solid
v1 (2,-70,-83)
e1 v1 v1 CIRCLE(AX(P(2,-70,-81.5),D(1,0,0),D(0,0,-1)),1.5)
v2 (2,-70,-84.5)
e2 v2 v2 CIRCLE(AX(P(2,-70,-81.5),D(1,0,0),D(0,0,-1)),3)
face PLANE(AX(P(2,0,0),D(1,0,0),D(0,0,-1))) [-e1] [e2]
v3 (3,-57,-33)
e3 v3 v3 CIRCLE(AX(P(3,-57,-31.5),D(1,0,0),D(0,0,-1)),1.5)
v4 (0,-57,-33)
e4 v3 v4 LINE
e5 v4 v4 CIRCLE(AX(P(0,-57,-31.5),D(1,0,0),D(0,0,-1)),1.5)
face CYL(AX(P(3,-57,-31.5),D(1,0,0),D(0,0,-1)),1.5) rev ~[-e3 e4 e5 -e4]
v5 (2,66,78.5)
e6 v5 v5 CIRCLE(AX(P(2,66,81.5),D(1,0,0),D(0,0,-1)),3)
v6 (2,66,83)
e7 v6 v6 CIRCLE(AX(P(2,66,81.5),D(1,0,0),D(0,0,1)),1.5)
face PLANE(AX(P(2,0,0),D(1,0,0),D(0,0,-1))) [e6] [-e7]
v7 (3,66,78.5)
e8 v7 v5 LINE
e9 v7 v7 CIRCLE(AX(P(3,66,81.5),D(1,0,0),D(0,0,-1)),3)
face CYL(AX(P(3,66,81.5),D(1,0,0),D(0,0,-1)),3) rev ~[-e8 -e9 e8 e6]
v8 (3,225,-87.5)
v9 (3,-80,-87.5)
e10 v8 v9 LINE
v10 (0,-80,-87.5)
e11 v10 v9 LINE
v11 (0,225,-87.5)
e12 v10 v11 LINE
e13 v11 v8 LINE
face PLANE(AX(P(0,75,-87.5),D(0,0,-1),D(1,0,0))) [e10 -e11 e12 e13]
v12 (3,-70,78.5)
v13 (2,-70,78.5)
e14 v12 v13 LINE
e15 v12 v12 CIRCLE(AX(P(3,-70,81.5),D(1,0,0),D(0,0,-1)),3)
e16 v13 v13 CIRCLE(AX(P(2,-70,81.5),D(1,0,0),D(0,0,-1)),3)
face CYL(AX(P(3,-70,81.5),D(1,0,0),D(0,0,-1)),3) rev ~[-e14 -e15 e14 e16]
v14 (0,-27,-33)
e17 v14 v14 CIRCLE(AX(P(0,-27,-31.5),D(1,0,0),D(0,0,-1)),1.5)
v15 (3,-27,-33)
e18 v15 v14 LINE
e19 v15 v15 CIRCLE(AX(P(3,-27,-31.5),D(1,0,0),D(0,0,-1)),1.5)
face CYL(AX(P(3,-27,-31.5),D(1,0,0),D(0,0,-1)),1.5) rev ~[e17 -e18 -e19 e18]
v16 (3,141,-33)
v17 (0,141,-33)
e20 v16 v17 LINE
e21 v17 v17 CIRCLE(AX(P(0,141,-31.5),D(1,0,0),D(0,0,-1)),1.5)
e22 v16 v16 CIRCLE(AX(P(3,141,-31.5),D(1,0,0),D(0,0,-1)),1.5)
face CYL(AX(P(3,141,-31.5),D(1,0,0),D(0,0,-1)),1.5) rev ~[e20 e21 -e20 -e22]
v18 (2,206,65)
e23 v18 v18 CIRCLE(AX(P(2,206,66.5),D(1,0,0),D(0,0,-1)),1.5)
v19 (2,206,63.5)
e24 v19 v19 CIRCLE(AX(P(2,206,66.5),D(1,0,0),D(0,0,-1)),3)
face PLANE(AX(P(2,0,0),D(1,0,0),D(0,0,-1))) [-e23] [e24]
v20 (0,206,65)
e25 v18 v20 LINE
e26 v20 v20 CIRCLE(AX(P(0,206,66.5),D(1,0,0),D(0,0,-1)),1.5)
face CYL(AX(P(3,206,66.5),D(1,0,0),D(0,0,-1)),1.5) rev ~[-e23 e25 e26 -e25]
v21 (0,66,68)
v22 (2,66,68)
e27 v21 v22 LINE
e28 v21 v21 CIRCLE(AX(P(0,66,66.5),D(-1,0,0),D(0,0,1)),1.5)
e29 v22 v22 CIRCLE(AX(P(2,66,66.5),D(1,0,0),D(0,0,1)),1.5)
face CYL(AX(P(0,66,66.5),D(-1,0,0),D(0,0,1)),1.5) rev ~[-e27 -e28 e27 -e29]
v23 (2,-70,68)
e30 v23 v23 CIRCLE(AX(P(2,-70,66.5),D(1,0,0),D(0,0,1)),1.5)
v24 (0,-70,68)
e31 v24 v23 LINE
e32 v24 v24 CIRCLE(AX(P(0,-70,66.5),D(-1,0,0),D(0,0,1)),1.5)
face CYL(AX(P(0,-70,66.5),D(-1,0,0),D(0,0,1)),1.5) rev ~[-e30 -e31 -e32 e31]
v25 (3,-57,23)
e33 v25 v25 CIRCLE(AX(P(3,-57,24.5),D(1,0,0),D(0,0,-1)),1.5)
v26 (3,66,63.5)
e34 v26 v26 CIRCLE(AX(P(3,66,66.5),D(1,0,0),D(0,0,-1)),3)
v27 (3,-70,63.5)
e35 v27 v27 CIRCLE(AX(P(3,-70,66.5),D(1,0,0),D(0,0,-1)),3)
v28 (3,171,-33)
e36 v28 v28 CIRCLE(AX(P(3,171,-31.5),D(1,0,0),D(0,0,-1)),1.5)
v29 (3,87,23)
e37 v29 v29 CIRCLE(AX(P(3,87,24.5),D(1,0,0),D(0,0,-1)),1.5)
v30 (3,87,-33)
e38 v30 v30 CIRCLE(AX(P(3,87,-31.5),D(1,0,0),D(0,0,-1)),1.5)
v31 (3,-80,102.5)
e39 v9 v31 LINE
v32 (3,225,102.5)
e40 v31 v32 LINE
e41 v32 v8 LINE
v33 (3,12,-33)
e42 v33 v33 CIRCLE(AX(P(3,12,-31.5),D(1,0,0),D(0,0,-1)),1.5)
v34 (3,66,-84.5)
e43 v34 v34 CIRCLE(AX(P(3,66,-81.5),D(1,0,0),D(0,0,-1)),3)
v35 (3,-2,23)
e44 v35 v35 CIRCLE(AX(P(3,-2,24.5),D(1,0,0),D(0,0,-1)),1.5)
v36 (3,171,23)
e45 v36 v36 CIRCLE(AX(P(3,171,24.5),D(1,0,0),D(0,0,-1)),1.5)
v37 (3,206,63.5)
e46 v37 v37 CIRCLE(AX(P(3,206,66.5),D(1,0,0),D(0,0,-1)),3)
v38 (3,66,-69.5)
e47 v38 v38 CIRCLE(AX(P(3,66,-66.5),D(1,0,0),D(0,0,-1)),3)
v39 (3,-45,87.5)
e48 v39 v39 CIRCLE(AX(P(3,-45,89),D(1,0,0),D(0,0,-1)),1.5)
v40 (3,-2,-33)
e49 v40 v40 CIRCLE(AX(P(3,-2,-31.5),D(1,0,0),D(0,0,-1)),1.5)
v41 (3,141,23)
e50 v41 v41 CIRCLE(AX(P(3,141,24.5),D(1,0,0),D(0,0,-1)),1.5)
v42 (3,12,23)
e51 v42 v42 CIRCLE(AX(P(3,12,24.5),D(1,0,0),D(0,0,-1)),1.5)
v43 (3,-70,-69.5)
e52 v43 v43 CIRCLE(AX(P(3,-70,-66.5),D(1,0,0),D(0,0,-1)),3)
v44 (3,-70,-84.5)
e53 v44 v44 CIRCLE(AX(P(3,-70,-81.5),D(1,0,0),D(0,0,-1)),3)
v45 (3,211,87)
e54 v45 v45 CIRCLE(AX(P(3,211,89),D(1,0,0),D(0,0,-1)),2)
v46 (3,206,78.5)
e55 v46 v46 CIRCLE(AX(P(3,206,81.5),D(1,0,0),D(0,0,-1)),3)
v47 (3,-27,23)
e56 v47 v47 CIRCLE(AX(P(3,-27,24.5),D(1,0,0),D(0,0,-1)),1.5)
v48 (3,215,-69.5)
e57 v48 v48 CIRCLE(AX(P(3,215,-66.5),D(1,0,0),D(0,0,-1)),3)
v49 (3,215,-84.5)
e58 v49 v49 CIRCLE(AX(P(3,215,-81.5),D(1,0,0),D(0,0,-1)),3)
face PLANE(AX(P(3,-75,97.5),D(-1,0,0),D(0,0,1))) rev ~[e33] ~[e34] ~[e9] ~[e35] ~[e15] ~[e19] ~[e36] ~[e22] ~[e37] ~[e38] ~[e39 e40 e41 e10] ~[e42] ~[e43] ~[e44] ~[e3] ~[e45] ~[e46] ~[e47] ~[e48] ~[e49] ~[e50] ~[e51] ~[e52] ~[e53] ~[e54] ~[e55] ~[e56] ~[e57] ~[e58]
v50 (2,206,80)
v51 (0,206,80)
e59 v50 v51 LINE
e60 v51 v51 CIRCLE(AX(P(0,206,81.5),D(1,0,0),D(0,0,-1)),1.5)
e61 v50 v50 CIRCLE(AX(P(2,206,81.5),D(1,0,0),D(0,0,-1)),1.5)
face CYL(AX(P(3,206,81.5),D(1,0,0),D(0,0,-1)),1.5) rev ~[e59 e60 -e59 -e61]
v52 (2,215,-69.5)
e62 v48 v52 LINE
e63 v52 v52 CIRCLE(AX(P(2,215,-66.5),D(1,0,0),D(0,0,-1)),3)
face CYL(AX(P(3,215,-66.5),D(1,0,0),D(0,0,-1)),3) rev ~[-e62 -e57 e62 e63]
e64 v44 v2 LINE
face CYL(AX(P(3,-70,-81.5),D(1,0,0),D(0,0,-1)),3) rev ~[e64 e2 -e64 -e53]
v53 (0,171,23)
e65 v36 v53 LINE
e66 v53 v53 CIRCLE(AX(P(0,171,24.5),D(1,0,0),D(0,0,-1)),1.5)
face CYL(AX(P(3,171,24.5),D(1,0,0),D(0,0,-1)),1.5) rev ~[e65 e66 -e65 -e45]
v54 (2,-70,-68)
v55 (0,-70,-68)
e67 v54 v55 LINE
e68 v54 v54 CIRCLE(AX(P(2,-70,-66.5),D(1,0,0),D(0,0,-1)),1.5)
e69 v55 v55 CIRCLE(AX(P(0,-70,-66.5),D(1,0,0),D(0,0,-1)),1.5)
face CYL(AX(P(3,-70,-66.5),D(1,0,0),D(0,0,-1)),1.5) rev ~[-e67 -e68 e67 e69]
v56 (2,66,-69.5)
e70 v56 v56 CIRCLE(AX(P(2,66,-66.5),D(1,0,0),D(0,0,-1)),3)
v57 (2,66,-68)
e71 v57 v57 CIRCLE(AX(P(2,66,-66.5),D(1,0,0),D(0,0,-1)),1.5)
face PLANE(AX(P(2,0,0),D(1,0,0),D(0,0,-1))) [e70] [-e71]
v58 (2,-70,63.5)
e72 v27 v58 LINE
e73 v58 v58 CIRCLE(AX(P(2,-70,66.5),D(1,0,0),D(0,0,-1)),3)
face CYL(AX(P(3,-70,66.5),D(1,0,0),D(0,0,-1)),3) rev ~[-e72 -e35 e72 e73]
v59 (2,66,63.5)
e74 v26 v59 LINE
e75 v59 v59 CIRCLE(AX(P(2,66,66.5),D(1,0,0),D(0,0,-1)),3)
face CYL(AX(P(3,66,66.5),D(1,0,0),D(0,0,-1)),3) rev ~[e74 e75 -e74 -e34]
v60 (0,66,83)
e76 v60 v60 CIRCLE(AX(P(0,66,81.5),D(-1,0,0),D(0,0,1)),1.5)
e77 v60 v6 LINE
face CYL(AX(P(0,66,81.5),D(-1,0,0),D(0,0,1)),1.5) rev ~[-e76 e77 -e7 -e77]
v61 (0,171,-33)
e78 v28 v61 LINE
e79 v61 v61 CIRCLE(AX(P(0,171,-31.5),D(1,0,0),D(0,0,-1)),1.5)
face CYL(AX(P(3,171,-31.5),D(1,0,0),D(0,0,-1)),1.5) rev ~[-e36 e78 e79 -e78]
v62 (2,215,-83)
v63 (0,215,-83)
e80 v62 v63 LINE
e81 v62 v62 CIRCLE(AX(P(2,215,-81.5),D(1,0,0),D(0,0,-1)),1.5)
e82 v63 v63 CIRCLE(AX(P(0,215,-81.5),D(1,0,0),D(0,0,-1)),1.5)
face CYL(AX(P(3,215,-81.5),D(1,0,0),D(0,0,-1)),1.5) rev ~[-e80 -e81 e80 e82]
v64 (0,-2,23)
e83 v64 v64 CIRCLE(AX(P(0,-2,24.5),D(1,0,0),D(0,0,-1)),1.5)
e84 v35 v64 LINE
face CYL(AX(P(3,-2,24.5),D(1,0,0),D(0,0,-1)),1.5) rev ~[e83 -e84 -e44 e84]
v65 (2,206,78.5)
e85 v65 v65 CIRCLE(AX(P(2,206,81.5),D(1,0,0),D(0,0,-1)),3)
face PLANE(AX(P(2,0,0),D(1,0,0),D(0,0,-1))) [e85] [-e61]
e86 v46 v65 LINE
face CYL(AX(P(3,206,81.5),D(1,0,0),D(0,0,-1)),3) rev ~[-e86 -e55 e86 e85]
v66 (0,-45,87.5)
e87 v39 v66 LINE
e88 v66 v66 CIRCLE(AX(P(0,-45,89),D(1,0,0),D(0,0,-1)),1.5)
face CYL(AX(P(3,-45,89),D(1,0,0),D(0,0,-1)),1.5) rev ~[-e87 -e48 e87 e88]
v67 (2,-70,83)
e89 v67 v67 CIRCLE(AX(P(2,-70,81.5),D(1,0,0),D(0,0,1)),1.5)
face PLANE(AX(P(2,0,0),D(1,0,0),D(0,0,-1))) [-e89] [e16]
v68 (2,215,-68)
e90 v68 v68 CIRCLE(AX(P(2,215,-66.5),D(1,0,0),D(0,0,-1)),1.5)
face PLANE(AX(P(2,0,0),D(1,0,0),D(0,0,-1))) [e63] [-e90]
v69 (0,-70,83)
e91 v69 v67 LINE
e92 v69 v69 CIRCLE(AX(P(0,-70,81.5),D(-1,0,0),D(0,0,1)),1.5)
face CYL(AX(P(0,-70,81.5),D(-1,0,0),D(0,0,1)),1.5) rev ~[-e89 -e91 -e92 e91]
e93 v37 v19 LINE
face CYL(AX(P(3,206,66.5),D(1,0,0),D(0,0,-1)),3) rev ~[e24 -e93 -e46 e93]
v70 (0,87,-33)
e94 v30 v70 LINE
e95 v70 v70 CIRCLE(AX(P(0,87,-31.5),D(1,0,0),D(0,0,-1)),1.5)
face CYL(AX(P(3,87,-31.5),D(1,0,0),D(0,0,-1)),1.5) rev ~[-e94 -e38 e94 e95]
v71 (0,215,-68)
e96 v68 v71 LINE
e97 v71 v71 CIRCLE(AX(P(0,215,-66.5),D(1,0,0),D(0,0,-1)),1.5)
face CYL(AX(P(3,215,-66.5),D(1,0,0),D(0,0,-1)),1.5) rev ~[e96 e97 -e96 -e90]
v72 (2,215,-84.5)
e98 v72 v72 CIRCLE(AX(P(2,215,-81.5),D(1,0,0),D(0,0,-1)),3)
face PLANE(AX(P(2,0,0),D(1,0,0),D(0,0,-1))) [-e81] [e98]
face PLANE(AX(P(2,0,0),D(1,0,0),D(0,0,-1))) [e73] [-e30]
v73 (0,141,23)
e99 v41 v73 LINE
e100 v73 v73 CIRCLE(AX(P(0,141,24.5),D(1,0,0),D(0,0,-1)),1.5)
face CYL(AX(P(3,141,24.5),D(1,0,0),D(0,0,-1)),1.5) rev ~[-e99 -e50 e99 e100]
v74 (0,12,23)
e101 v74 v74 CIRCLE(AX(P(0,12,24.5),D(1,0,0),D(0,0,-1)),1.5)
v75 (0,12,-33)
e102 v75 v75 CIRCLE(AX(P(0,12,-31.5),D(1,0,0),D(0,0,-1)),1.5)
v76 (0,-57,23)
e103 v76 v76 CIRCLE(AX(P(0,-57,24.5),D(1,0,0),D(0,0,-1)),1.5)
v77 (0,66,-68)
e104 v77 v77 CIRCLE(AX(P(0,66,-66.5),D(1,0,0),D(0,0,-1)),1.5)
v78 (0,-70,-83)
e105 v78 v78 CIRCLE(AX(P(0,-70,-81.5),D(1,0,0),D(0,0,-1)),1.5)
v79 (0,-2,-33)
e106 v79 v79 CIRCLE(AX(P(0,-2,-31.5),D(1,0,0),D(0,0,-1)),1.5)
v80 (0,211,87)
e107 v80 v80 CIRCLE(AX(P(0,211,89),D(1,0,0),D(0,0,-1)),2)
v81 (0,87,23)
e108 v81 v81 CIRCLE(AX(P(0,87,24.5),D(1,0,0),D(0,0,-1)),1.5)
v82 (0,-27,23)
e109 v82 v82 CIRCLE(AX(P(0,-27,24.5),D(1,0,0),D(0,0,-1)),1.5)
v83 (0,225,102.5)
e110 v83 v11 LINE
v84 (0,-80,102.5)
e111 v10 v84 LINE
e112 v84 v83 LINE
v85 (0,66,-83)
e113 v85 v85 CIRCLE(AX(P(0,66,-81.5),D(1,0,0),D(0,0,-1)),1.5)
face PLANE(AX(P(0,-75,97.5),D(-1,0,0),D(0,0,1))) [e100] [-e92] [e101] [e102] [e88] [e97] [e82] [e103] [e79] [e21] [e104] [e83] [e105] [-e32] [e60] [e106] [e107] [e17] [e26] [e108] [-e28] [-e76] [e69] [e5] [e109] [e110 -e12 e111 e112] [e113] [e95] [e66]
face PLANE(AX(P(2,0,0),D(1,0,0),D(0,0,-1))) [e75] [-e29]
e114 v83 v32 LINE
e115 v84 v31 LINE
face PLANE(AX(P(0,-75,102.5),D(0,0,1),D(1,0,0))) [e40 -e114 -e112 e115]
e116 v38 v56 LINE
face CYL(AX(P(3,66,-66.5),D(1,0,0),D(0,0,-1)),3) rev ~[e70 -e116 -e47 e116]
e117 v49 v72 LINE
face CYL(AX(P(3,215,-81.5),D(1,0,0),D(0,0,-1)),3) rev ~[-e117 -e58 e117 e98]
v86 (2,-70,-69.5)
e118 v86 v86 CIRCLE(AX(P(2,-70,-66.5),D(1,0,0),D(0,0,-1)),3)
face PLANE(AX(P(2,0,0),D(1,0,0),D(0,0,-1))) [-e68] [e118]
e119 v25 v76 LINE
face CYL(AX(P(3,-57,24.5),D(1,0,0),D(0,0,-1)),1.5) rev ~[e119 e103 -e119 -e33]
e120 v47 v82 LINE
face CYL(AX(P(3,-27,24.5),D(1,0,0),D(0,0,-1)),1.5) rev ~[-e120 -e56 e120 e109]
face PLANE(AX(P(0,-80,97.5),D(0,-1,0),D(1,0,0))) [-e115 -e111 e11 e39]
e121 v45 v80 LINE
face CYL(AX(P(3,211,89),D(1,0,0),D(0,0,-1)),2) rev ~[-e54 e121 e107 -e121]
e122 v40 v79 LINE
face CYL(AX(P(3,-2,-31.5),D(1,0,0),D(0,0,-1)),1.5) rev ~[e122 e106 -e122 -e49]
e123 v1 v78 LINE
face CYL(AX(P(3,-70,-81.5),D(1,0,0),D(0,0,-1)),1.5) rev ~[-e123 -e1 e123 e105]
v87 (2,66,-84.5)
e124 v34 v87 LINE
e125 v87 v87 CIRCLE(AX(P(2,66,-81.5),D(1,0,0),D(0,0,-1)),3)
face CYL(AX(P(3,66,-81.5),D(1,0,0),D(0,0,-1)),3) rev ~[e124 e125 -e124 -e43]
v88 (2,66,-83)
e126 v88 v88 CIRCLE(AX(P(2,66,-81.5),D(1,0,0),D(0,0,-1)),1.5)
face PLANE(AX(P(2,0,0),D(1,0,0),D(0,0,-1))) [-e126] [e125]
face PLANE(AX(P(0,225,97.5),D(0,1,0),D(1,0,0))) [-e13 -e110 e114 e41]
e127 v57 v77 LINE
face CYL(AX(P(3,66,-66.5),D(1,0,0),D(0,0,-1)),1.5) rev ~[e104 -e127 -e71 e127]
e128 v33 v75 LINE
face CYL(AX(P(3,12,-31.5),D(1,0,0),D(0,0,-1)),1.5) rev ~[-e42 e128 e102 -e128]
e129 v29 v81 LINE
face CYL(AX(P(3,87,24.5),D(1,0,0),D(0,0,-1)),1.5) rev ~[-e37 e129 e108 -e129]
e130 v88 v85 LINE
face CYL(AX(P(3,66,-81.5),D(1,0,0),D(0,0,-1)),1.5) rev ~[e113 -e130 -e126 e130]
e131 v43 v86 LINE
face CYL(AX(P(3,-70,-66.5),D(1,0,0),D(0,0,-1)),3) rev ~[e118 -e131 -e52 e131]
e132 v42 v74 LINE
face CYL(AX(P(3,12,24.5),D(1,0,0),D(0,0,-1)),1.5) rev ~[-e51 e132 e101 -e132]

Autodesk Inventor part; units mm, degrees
ref_plane "YZ Plane" through (0, 0, 0) normal (1, 0, 0) x (0, 1, 0)
ref_plane "XZ Plane" through (0, 0, 0) normal (0, 1, 0) x (-1, 0, 0)
ref_plane "XY Plane" through (0, 0, 0) normal (0, 0, 1) x (1, 0, 0)
sketch "スケッチ1" plane through (0, 0, 0) normal (1, 0, 0) x (0, 1, 0)
  line L0 (75, 87.5) -> (-75, 87.5)
  line L1 (-75, 87.5) -> (-75, -87.5)
  line L2 (-75, -87.5) -> (75, -87.5)
  line L3 (75, -87.5) -> (75, 87.5)
  line L4 (75, 87.5) -> (-75, -87.5) construction
  line L5 (-75, 87.5) -> (75, -87.5) construction
  point P0 (0, 0)
  dimension "d0" = 150
  dimension "d1" = 175
extrude "押し出し1" add sketch "スケッチ1" along normal blind 3
sketch "スケッチ2" plane through (3, 0, 0) normal (1, 0, 0) x (0, 0, -1)
  circle A0 centre (81.5, 66) radius 1.5
  circle A1 centre (66.5, 66) radius 1.5
  line L0 (87.5, -75) -> (87.5, 75) projected
  line L1 (87.5, 75) -> (-87.5, 75) projected
  line L2 (-87.5, 75) -> (-87.5, -75) projected
  line L3 (-87.5, 0) -> (87.5, 0)
  circle A2 centre (66.5, -70) radius 1.5
  circle A3 centre (81.5, -70) radius 1.5
  line L4 (-87.5, -75) -> (87.5, -75) projected
  point P0 (0, 0)
  dimension "d4" = 3
  dimension "d5" = 6
  dimension "d7" = 15
  dimension "d9" = 3
  dimension "d20" = 3
  dimension "d21" = 3
  dimension "d22" = 6
  dimension "d23" = 15
  dimension "d24" = 5
  dimension "d25" = 5
  dimension "d66" = 141
  dimension "d67" = 141
extrude "押し出し2" cut sketch "スケッチ2" against normal through all contours A0 | A1 | A2 | A3
sketch "スケッチ3" plane through (0, 0, 0) normal (-1, 0, 0) x (0, 0, 1)
  circle A0 centre (81.5, 66) radius 1.5
  circle A1 centre (66.5, 66) radius 1.5
  line L0 (87.5, 75) -> (87.5, -75) projected
  line L1 (-87.5, 75) -> (87.5, 75) projected
  line L2 (-87.5, -75) -> (-87.5, 75) projected
  line L3 (-87.5, 0) -> (87.5, 0)
  circle A2 centre (81.5, -70) radius 1.5
  circle A3 centre (66.5, -70) radius 1.5
  line L4 (87.5, -75) -> (-87.5, -75) projected
  point P0 (0, 0)
  dimension "d12" = 6
  dimension "d13" = 3
  dimension "d14" = 15
  dimension "d15" = 3
  dimension "d26" = 3
  dimension "d27" = 3
  dimension "d28" = 15
  dimension "d29" = 6
  dimension "d30" = 5
  dimension "d31" = 5
  dimension "d64" = 141
  dimension "d65" = 141
sketch "スケッチ6" plane through (3, 0, 0) normal (1, 0, 0) x (0, 0, -1)
  circle A0 centre (-24.5, -57) radius 1.5
  circle A1 centre (31.5, -57) radius 1.5
  circle A2 centre (-24.5, -27) radius 1.5
  circle A3 centre (31.5, -27) radius 1.5
  line L0 (-87.5, -75) -> (87.5, -75) projected
  line L1 (-87.5, 75) -> (-87.5, -75) projected
  line L2 (87.5, -75) -> (87.5, 75) projected
  point P0 (0, 0)
  dimension "d32" = 3
  dimension "d33" = 3
  dimension "d34" = 3
  dimension "d35" = 18
  dimension "d36" = 18
  dimension "d38" = 30
  dimension "d43" = 3
  dimension "d46" = 56
  dimension "d47" = 56
  dimension "d50" = 56
  dimension "d51" = 56
extrude "押し出し4" cut sketch "スケッチ6" against normal through all
sketch "スケッチ7" plane through (0, -75, 87.5) normal (0, 0, 1) x (1, 0, 0)
  line L0 (0, 150) -> (3, 150) projected
  line L1 (0, 0) -> (3, 0) projected
  line L2 (0, 150) -> (3, 150)
  line L3 (3, 150) -> (3, 0)
  line L4 (3, 0) -> (0, 0)
  line L5 (0, 0) -> (0, 150)
  point P0 (0, 75)
extrude "押し出し5" add sketch "スケッチ7" along normal blind 10
sketch "スケッチ9" plane through (0, -75, -87.5) normal (0, -1, 0) x (1, 0, 0)
  line L0 (3, 0) -> (3, 185) projected
  line L1 (0, 185) -> (0, 0) projected
  line L2 (3, 18) -> (0, 18)
  line L3 (0, 18) -> (0, 43)
  line L4 (0, 43) -> (3, 43)
  line L5 (3, 43) -> (3, 18)
  line L6 (0, 142) -> (3, 142)
  line L7 (3, 142) -> (3, 167)
  line L8 (3, 167) -> (0, 167)
  line L9 (0, 167) -> (0, 142)
  line L10 (0, 0) -> (3, 0) projected
  line L11 (0, 185) -> (3, 185) projected
  point P0 (0, 87.5)
  point P1 (1.5, 185)
  point P2 (0, 167)
  point P3 (3, 142)
  point P4 (3, 43)
  point P5 (0, 18)
  dimension "d58" = 18
  dimension "d59" = 25
  dimension "d60" = 18
  dimension "d61" = 25
extrude "押し出し7" add sketch "スケッチ9" along normal blind 5
sketch "スケッチ10" plane through (0, 75, -87.5) normal (0, 1, 0) x (1, 0, 0)
  line L0 (0, 0) -> (0, -185) projected
  line L1 (3, 0) -> (3, -185) projected
  line L2 (0, 0) -> (3, 0)
  line L3 (3, 0) -> (3, -185)
  line L4 (3, -185) -> (0, -185)
  line L5 (0, -185) -> (0, 0)
  point P0 (0, -87.5)
  point P1 (3, 0)
  point P2 (0, -185)
extrude "押し出し8" add sketch "スケッチ10" along normal blind 150
sketch "スケッチ11" plane through (3, 0, 0) normal (1, 0, 0) x (0, 0, -1)
  line L0 (44.5, -75) -> (-54.5, -75) projected
  line L1 (-54.5, -75) -> (44.5, -75)
  line L2 (44.5, -75) -> (44.5, -6)
  line L3 (44.5, -6) -> (-54.5, -6)
  line L4 (-54.5, -6) -> (-54.5, -75)
  line L5 (-54.5, -6) -> (44.5, -6)
  line L6 (44.5, -6) -> (44.5, 123)
  line L7 (44.5, 123) -> (-54.5, 123)
  line L8 (-54.5, 123) -> (-54.5, -6)
  circle A0 centre (-24.5, 87) radius 1.5
  circle A1 centre (31.5, 87) radius 1.5
  circle A2 centre (31.5, 12) radius 1.5
  circle A3 centre (-24.5, 12) radius 1.5
  line L9 (-54.5, 123) -> (44.5, 123)
  line L10 (44.5, 123) -> (44.5, 192)
  line L11 (44.5, 192) -> (-54.5, 192)
  line L12 (-54.5, 192) -> (-54.5, 123)
  circle A4 centre (31.5, 141) radius 1.5
  circle A5 centre (-24.5, 141) radius 1.5
  circle A6 centre (31.5, 171) radius 1.5
  circle A7 centre (-24.5, 171) radius 1.5
  point P0 (0, 0)
  point P1 (-5, -75)
  dimension "d70" = 69
  dimension "d71" = 129
  dimension "d72" = 3
  dimension "d73" = 3
  dimension "d74" = 30
  dimension "d75" = 13
  dimension "d89" = 3
  dimension "d90" = 3
  dimension "d135" = 69
  dimension "d136" = 18
  dimension "d137" = 18
  dimension "d138" = 75
  dimension "d139" = 75
  dimension "d140" = 18
  dimension "d141" = 30
  dimension "d142" = 18
  dimension "d143" = 30
  dimension "d144" = 3
  dimension "d145" = 3
  dimension "d146" = 3
  dimension "d147" = 3
extrude "押し出し9" cut sketch "スケッチ11" against normal blind 10 contours A0 | A1 | A2 | A3 | A4 | A5 | A6 | A7
extrude "押し出し10" cut sketch "スケッチ3" against normal blind 10 contours A0 | A1 | A2 | A3
sketch "スケッチ12" plane through (3, 0, 0) normal (1, 0, 0) x (0, 0, -1)
  circle A0 centre (-24.5, -2) radius 1.5
  line L0 (44.5, -75) -> (-54.5, -75) projected
  line L1 (-54.5, -75) -> (44.5, -75)
  line L2 (44.5, -75) -> (44.5, 118.2997)
  line L3 (44.5, 118.2997) -> (-54.5, 118.2997)
  line L4 (-54.5, 118.2997) -> (-54.5, -75)
  circle A1 centre (31.5, -2) radius 1.5
  circle A2 centre (-24.5, -57) radius 1.5 projected
  circle A3 centre (31.5, -57) radius 1.5 projected
  point P0 (0, 0)
  dimension "d93" = 30
  dimension "d94" = 3
  dimension "d95" = 13
  dimension "d96" = 3
  dimension "d97" = 55
  dimension "d98" = 55
extrude "押し出し11" cut sketch "スケッチ12" against normal blind 10 contours A0 | A1
sketch "スケッチ13" plane through (3, 0, 0) normal (1, 0, 0) x (0, 0, -1)
  circle A0 centre (-81.5, 66) radius 1.5 projected
  circle A1 centre (-81.5, 66) radius 3
  circle A2 centre (-66.5, 66) radius 1.5 projected
  circle A3 centre (-66.5, 66) radius 3
  circle A4 centre (66.5, 66) radius 1.5 projected
  circle A5 centre (66.5, 66) radius 3
  circle A6 centre (81.5, 66) radius 1.5 projected
  circle A7 centre (81.5, 66) radius 3
  circle A8 centre (-81.5, -70) radius 1.5 projected
  circle A9 centre (-81.5, -70) radius 3
  circle A10 centre (-66.5, -70) radius 1.5 projected
  circle A11 centre (-66.5, -70) radius 3
  circle A12 centre (66.5, -70) radius 1.5 projected
  circle A13 centre (66.5, -70) radius 3
  circle A14 centre (81.5, -70) radius 1.5 projected
  circle A15 centre (81.5, -70) radius 3
  point P0 (0, 0)
  dimension "d101" = 6
  dimension "d102" = 6
  dimension "d103" = 6
  dimension "d104" = 6
  dimension "d107" = 6
  dimension "d108" = 6
  dimension "d109" = 6
  dimension "d110" = 6
extrude "押し出し12" cut sketch "スケッチ13" against normal blind 1
sketch "スケッチ14" plane through (3, 0, 0) normal (1, 0, 0) x (0, 0, -1)
  circle A0 centre (-81.5, 206) radius 1.5
  circle A1 centre (-66.5, 206) radius 1.5
  circle A2 centre (-81.5, 66) radius 1.5 projected
  circle A3 centre (-66.5, 66) radius 1.5 projected
  line L0 (-97.5, -75) -> (-97.5, 225) projected
  point P0 (0, 0)
  dimension "d111" = 3
  dimension "d112" = 3
  dimension "d113" = 140
  dimension "d114" = 140
  dimension "d115" = 16
  dimension "d116" = 15
extrude "押し出し13" cut sketch "スケッチ14" against normal blind 10 contours A0 | A1
sketch "スケッチ15" plane through (3, 0, 0) normal (1, 0, 0) x (0, 0, -1)
  circle A0 centre (-81.5, 206) radius 1.5 projected
  circle A1 centre (-81.5, 206) radius 3
  circle A2 centre (-66.5, 206) radius 1.5 projected
  circle A3 centre (-66.5, 206) radius 3
  point P0 (0, 0)
  dimension "d119" = 6
  dimension "d120" = 6
extrude "押し出し14" cut sketch "スケッチ15" against normal blind 1
sketch "スケッチ16" plane through (3, 0, 0) normal (1, 0, 0) x (0, 0, -1)
  circle A0 centre (81.5, 215) radius 1.5
  circle A1 centre (66.5, 215) radius 1.5
  line L0 (-97.5, 225) -> (87.5, 225) projected
  line L1 (87.5, -75) -> (87.5, 225) projected
  point P0 (0, 0)
  dimension "d123" = 10
  dimension "d124" = 10
  dimension "d125" = 15
  dimension "d126" = 3
  dimension "d127" = 3
  dimension "d128" = 6
extrude "押し出し15" cut sketch "スケッチ16" against normal through all
sketch "スケッチ17" plane through (3, 0, 0) normal (1, 0, 0) x (0, 0, -1)
  circle A0 centre (66.5, 215) radius 1.5 projected
  circle A1 centre (66.5, 215) radius 3
  circle A2 centre (81.5, 215) radius 1.5 projected
  circle A3 centre (81.5, 215) radius 3
  point P0 (0, 0)
  dimension "d131" = 6
  dimension "d132" = 6
extrude "押し出し16" cut sketch "スケッチ17" against normal blind 1
sketch "スケッチ18" plane through (0, -75, 97.5) normal (0, 0, 1) x (1, 0, 0)
  line L0 (0, 0) -> (0, 300) projected
  line L1 (3, 0) -> (0, 0) projected
  line L2 (0, 300) -> (3, 300)
  line L3 (3, 300) -> (3, 0)
  line L4 (3, 0) -> (0, 0)
  line L5 (0, 0) -> (0, 300)
  point P0 (0, 75)
extrude "押し出し17" add sketch "スケッチ18" along normal blind 5
sketch "スケッチ19" plane through (3, 0, 0) normal (1, 0, 0) x (0, 0, -1)
  line L0 (87.5, 225) -> (-102.5, 225) projected
  line L1 (-79.5, -75) -> (-102.5, -75) projected
  line L2 (-77.5, 225) -> (-100.5, 225)
  line L3 (-100.5, 225) -> (-100.5, -75)
  line L4 (-100.5, -75) -> (-77.5, -75)
  line L5 (-77.5, -75) -> (-77.5, 225)
  line L6 (-102.5, -75) -> (-102.5, 225) projected
  circle A0 centre (-89, 211) radius 2
  circle A1 centre (-89, -45) radius 1.5
  point P0 (0, 0)
  point P1 (-89, -75)
  dimension "d150" = 23
  dimension "d151" = 2
  dimension "d152" = 30
  dimension "d153" = 3
  dimension "d154" = 14
  dimension "d155" = 4
  dimension "d158" = 11.5
  dimension "d159" = 11.5
extrude "押し出し18" cut sketch "スケッチ19" against normal through all contours A0 | A1
sketch "スケッチ20" plane through (0, -75, 97.5) normal (0, -1, 0) x (1, 0, 0)
  line L0 (3, 0) -> (0, 0) projected
  line L1 (3, 0) -> (3, 5) projected
  line L2 (0, 5) -> (3, 5) projected
  line L3 (0, 0) -> (0, 5) projected
  point P0 (0, -97.5)
extrude "押し出し19" add sketch "スケッチ20" along normal blind 5
properties part number "BP_Exterior-Left" material "PBT プラスチック"
